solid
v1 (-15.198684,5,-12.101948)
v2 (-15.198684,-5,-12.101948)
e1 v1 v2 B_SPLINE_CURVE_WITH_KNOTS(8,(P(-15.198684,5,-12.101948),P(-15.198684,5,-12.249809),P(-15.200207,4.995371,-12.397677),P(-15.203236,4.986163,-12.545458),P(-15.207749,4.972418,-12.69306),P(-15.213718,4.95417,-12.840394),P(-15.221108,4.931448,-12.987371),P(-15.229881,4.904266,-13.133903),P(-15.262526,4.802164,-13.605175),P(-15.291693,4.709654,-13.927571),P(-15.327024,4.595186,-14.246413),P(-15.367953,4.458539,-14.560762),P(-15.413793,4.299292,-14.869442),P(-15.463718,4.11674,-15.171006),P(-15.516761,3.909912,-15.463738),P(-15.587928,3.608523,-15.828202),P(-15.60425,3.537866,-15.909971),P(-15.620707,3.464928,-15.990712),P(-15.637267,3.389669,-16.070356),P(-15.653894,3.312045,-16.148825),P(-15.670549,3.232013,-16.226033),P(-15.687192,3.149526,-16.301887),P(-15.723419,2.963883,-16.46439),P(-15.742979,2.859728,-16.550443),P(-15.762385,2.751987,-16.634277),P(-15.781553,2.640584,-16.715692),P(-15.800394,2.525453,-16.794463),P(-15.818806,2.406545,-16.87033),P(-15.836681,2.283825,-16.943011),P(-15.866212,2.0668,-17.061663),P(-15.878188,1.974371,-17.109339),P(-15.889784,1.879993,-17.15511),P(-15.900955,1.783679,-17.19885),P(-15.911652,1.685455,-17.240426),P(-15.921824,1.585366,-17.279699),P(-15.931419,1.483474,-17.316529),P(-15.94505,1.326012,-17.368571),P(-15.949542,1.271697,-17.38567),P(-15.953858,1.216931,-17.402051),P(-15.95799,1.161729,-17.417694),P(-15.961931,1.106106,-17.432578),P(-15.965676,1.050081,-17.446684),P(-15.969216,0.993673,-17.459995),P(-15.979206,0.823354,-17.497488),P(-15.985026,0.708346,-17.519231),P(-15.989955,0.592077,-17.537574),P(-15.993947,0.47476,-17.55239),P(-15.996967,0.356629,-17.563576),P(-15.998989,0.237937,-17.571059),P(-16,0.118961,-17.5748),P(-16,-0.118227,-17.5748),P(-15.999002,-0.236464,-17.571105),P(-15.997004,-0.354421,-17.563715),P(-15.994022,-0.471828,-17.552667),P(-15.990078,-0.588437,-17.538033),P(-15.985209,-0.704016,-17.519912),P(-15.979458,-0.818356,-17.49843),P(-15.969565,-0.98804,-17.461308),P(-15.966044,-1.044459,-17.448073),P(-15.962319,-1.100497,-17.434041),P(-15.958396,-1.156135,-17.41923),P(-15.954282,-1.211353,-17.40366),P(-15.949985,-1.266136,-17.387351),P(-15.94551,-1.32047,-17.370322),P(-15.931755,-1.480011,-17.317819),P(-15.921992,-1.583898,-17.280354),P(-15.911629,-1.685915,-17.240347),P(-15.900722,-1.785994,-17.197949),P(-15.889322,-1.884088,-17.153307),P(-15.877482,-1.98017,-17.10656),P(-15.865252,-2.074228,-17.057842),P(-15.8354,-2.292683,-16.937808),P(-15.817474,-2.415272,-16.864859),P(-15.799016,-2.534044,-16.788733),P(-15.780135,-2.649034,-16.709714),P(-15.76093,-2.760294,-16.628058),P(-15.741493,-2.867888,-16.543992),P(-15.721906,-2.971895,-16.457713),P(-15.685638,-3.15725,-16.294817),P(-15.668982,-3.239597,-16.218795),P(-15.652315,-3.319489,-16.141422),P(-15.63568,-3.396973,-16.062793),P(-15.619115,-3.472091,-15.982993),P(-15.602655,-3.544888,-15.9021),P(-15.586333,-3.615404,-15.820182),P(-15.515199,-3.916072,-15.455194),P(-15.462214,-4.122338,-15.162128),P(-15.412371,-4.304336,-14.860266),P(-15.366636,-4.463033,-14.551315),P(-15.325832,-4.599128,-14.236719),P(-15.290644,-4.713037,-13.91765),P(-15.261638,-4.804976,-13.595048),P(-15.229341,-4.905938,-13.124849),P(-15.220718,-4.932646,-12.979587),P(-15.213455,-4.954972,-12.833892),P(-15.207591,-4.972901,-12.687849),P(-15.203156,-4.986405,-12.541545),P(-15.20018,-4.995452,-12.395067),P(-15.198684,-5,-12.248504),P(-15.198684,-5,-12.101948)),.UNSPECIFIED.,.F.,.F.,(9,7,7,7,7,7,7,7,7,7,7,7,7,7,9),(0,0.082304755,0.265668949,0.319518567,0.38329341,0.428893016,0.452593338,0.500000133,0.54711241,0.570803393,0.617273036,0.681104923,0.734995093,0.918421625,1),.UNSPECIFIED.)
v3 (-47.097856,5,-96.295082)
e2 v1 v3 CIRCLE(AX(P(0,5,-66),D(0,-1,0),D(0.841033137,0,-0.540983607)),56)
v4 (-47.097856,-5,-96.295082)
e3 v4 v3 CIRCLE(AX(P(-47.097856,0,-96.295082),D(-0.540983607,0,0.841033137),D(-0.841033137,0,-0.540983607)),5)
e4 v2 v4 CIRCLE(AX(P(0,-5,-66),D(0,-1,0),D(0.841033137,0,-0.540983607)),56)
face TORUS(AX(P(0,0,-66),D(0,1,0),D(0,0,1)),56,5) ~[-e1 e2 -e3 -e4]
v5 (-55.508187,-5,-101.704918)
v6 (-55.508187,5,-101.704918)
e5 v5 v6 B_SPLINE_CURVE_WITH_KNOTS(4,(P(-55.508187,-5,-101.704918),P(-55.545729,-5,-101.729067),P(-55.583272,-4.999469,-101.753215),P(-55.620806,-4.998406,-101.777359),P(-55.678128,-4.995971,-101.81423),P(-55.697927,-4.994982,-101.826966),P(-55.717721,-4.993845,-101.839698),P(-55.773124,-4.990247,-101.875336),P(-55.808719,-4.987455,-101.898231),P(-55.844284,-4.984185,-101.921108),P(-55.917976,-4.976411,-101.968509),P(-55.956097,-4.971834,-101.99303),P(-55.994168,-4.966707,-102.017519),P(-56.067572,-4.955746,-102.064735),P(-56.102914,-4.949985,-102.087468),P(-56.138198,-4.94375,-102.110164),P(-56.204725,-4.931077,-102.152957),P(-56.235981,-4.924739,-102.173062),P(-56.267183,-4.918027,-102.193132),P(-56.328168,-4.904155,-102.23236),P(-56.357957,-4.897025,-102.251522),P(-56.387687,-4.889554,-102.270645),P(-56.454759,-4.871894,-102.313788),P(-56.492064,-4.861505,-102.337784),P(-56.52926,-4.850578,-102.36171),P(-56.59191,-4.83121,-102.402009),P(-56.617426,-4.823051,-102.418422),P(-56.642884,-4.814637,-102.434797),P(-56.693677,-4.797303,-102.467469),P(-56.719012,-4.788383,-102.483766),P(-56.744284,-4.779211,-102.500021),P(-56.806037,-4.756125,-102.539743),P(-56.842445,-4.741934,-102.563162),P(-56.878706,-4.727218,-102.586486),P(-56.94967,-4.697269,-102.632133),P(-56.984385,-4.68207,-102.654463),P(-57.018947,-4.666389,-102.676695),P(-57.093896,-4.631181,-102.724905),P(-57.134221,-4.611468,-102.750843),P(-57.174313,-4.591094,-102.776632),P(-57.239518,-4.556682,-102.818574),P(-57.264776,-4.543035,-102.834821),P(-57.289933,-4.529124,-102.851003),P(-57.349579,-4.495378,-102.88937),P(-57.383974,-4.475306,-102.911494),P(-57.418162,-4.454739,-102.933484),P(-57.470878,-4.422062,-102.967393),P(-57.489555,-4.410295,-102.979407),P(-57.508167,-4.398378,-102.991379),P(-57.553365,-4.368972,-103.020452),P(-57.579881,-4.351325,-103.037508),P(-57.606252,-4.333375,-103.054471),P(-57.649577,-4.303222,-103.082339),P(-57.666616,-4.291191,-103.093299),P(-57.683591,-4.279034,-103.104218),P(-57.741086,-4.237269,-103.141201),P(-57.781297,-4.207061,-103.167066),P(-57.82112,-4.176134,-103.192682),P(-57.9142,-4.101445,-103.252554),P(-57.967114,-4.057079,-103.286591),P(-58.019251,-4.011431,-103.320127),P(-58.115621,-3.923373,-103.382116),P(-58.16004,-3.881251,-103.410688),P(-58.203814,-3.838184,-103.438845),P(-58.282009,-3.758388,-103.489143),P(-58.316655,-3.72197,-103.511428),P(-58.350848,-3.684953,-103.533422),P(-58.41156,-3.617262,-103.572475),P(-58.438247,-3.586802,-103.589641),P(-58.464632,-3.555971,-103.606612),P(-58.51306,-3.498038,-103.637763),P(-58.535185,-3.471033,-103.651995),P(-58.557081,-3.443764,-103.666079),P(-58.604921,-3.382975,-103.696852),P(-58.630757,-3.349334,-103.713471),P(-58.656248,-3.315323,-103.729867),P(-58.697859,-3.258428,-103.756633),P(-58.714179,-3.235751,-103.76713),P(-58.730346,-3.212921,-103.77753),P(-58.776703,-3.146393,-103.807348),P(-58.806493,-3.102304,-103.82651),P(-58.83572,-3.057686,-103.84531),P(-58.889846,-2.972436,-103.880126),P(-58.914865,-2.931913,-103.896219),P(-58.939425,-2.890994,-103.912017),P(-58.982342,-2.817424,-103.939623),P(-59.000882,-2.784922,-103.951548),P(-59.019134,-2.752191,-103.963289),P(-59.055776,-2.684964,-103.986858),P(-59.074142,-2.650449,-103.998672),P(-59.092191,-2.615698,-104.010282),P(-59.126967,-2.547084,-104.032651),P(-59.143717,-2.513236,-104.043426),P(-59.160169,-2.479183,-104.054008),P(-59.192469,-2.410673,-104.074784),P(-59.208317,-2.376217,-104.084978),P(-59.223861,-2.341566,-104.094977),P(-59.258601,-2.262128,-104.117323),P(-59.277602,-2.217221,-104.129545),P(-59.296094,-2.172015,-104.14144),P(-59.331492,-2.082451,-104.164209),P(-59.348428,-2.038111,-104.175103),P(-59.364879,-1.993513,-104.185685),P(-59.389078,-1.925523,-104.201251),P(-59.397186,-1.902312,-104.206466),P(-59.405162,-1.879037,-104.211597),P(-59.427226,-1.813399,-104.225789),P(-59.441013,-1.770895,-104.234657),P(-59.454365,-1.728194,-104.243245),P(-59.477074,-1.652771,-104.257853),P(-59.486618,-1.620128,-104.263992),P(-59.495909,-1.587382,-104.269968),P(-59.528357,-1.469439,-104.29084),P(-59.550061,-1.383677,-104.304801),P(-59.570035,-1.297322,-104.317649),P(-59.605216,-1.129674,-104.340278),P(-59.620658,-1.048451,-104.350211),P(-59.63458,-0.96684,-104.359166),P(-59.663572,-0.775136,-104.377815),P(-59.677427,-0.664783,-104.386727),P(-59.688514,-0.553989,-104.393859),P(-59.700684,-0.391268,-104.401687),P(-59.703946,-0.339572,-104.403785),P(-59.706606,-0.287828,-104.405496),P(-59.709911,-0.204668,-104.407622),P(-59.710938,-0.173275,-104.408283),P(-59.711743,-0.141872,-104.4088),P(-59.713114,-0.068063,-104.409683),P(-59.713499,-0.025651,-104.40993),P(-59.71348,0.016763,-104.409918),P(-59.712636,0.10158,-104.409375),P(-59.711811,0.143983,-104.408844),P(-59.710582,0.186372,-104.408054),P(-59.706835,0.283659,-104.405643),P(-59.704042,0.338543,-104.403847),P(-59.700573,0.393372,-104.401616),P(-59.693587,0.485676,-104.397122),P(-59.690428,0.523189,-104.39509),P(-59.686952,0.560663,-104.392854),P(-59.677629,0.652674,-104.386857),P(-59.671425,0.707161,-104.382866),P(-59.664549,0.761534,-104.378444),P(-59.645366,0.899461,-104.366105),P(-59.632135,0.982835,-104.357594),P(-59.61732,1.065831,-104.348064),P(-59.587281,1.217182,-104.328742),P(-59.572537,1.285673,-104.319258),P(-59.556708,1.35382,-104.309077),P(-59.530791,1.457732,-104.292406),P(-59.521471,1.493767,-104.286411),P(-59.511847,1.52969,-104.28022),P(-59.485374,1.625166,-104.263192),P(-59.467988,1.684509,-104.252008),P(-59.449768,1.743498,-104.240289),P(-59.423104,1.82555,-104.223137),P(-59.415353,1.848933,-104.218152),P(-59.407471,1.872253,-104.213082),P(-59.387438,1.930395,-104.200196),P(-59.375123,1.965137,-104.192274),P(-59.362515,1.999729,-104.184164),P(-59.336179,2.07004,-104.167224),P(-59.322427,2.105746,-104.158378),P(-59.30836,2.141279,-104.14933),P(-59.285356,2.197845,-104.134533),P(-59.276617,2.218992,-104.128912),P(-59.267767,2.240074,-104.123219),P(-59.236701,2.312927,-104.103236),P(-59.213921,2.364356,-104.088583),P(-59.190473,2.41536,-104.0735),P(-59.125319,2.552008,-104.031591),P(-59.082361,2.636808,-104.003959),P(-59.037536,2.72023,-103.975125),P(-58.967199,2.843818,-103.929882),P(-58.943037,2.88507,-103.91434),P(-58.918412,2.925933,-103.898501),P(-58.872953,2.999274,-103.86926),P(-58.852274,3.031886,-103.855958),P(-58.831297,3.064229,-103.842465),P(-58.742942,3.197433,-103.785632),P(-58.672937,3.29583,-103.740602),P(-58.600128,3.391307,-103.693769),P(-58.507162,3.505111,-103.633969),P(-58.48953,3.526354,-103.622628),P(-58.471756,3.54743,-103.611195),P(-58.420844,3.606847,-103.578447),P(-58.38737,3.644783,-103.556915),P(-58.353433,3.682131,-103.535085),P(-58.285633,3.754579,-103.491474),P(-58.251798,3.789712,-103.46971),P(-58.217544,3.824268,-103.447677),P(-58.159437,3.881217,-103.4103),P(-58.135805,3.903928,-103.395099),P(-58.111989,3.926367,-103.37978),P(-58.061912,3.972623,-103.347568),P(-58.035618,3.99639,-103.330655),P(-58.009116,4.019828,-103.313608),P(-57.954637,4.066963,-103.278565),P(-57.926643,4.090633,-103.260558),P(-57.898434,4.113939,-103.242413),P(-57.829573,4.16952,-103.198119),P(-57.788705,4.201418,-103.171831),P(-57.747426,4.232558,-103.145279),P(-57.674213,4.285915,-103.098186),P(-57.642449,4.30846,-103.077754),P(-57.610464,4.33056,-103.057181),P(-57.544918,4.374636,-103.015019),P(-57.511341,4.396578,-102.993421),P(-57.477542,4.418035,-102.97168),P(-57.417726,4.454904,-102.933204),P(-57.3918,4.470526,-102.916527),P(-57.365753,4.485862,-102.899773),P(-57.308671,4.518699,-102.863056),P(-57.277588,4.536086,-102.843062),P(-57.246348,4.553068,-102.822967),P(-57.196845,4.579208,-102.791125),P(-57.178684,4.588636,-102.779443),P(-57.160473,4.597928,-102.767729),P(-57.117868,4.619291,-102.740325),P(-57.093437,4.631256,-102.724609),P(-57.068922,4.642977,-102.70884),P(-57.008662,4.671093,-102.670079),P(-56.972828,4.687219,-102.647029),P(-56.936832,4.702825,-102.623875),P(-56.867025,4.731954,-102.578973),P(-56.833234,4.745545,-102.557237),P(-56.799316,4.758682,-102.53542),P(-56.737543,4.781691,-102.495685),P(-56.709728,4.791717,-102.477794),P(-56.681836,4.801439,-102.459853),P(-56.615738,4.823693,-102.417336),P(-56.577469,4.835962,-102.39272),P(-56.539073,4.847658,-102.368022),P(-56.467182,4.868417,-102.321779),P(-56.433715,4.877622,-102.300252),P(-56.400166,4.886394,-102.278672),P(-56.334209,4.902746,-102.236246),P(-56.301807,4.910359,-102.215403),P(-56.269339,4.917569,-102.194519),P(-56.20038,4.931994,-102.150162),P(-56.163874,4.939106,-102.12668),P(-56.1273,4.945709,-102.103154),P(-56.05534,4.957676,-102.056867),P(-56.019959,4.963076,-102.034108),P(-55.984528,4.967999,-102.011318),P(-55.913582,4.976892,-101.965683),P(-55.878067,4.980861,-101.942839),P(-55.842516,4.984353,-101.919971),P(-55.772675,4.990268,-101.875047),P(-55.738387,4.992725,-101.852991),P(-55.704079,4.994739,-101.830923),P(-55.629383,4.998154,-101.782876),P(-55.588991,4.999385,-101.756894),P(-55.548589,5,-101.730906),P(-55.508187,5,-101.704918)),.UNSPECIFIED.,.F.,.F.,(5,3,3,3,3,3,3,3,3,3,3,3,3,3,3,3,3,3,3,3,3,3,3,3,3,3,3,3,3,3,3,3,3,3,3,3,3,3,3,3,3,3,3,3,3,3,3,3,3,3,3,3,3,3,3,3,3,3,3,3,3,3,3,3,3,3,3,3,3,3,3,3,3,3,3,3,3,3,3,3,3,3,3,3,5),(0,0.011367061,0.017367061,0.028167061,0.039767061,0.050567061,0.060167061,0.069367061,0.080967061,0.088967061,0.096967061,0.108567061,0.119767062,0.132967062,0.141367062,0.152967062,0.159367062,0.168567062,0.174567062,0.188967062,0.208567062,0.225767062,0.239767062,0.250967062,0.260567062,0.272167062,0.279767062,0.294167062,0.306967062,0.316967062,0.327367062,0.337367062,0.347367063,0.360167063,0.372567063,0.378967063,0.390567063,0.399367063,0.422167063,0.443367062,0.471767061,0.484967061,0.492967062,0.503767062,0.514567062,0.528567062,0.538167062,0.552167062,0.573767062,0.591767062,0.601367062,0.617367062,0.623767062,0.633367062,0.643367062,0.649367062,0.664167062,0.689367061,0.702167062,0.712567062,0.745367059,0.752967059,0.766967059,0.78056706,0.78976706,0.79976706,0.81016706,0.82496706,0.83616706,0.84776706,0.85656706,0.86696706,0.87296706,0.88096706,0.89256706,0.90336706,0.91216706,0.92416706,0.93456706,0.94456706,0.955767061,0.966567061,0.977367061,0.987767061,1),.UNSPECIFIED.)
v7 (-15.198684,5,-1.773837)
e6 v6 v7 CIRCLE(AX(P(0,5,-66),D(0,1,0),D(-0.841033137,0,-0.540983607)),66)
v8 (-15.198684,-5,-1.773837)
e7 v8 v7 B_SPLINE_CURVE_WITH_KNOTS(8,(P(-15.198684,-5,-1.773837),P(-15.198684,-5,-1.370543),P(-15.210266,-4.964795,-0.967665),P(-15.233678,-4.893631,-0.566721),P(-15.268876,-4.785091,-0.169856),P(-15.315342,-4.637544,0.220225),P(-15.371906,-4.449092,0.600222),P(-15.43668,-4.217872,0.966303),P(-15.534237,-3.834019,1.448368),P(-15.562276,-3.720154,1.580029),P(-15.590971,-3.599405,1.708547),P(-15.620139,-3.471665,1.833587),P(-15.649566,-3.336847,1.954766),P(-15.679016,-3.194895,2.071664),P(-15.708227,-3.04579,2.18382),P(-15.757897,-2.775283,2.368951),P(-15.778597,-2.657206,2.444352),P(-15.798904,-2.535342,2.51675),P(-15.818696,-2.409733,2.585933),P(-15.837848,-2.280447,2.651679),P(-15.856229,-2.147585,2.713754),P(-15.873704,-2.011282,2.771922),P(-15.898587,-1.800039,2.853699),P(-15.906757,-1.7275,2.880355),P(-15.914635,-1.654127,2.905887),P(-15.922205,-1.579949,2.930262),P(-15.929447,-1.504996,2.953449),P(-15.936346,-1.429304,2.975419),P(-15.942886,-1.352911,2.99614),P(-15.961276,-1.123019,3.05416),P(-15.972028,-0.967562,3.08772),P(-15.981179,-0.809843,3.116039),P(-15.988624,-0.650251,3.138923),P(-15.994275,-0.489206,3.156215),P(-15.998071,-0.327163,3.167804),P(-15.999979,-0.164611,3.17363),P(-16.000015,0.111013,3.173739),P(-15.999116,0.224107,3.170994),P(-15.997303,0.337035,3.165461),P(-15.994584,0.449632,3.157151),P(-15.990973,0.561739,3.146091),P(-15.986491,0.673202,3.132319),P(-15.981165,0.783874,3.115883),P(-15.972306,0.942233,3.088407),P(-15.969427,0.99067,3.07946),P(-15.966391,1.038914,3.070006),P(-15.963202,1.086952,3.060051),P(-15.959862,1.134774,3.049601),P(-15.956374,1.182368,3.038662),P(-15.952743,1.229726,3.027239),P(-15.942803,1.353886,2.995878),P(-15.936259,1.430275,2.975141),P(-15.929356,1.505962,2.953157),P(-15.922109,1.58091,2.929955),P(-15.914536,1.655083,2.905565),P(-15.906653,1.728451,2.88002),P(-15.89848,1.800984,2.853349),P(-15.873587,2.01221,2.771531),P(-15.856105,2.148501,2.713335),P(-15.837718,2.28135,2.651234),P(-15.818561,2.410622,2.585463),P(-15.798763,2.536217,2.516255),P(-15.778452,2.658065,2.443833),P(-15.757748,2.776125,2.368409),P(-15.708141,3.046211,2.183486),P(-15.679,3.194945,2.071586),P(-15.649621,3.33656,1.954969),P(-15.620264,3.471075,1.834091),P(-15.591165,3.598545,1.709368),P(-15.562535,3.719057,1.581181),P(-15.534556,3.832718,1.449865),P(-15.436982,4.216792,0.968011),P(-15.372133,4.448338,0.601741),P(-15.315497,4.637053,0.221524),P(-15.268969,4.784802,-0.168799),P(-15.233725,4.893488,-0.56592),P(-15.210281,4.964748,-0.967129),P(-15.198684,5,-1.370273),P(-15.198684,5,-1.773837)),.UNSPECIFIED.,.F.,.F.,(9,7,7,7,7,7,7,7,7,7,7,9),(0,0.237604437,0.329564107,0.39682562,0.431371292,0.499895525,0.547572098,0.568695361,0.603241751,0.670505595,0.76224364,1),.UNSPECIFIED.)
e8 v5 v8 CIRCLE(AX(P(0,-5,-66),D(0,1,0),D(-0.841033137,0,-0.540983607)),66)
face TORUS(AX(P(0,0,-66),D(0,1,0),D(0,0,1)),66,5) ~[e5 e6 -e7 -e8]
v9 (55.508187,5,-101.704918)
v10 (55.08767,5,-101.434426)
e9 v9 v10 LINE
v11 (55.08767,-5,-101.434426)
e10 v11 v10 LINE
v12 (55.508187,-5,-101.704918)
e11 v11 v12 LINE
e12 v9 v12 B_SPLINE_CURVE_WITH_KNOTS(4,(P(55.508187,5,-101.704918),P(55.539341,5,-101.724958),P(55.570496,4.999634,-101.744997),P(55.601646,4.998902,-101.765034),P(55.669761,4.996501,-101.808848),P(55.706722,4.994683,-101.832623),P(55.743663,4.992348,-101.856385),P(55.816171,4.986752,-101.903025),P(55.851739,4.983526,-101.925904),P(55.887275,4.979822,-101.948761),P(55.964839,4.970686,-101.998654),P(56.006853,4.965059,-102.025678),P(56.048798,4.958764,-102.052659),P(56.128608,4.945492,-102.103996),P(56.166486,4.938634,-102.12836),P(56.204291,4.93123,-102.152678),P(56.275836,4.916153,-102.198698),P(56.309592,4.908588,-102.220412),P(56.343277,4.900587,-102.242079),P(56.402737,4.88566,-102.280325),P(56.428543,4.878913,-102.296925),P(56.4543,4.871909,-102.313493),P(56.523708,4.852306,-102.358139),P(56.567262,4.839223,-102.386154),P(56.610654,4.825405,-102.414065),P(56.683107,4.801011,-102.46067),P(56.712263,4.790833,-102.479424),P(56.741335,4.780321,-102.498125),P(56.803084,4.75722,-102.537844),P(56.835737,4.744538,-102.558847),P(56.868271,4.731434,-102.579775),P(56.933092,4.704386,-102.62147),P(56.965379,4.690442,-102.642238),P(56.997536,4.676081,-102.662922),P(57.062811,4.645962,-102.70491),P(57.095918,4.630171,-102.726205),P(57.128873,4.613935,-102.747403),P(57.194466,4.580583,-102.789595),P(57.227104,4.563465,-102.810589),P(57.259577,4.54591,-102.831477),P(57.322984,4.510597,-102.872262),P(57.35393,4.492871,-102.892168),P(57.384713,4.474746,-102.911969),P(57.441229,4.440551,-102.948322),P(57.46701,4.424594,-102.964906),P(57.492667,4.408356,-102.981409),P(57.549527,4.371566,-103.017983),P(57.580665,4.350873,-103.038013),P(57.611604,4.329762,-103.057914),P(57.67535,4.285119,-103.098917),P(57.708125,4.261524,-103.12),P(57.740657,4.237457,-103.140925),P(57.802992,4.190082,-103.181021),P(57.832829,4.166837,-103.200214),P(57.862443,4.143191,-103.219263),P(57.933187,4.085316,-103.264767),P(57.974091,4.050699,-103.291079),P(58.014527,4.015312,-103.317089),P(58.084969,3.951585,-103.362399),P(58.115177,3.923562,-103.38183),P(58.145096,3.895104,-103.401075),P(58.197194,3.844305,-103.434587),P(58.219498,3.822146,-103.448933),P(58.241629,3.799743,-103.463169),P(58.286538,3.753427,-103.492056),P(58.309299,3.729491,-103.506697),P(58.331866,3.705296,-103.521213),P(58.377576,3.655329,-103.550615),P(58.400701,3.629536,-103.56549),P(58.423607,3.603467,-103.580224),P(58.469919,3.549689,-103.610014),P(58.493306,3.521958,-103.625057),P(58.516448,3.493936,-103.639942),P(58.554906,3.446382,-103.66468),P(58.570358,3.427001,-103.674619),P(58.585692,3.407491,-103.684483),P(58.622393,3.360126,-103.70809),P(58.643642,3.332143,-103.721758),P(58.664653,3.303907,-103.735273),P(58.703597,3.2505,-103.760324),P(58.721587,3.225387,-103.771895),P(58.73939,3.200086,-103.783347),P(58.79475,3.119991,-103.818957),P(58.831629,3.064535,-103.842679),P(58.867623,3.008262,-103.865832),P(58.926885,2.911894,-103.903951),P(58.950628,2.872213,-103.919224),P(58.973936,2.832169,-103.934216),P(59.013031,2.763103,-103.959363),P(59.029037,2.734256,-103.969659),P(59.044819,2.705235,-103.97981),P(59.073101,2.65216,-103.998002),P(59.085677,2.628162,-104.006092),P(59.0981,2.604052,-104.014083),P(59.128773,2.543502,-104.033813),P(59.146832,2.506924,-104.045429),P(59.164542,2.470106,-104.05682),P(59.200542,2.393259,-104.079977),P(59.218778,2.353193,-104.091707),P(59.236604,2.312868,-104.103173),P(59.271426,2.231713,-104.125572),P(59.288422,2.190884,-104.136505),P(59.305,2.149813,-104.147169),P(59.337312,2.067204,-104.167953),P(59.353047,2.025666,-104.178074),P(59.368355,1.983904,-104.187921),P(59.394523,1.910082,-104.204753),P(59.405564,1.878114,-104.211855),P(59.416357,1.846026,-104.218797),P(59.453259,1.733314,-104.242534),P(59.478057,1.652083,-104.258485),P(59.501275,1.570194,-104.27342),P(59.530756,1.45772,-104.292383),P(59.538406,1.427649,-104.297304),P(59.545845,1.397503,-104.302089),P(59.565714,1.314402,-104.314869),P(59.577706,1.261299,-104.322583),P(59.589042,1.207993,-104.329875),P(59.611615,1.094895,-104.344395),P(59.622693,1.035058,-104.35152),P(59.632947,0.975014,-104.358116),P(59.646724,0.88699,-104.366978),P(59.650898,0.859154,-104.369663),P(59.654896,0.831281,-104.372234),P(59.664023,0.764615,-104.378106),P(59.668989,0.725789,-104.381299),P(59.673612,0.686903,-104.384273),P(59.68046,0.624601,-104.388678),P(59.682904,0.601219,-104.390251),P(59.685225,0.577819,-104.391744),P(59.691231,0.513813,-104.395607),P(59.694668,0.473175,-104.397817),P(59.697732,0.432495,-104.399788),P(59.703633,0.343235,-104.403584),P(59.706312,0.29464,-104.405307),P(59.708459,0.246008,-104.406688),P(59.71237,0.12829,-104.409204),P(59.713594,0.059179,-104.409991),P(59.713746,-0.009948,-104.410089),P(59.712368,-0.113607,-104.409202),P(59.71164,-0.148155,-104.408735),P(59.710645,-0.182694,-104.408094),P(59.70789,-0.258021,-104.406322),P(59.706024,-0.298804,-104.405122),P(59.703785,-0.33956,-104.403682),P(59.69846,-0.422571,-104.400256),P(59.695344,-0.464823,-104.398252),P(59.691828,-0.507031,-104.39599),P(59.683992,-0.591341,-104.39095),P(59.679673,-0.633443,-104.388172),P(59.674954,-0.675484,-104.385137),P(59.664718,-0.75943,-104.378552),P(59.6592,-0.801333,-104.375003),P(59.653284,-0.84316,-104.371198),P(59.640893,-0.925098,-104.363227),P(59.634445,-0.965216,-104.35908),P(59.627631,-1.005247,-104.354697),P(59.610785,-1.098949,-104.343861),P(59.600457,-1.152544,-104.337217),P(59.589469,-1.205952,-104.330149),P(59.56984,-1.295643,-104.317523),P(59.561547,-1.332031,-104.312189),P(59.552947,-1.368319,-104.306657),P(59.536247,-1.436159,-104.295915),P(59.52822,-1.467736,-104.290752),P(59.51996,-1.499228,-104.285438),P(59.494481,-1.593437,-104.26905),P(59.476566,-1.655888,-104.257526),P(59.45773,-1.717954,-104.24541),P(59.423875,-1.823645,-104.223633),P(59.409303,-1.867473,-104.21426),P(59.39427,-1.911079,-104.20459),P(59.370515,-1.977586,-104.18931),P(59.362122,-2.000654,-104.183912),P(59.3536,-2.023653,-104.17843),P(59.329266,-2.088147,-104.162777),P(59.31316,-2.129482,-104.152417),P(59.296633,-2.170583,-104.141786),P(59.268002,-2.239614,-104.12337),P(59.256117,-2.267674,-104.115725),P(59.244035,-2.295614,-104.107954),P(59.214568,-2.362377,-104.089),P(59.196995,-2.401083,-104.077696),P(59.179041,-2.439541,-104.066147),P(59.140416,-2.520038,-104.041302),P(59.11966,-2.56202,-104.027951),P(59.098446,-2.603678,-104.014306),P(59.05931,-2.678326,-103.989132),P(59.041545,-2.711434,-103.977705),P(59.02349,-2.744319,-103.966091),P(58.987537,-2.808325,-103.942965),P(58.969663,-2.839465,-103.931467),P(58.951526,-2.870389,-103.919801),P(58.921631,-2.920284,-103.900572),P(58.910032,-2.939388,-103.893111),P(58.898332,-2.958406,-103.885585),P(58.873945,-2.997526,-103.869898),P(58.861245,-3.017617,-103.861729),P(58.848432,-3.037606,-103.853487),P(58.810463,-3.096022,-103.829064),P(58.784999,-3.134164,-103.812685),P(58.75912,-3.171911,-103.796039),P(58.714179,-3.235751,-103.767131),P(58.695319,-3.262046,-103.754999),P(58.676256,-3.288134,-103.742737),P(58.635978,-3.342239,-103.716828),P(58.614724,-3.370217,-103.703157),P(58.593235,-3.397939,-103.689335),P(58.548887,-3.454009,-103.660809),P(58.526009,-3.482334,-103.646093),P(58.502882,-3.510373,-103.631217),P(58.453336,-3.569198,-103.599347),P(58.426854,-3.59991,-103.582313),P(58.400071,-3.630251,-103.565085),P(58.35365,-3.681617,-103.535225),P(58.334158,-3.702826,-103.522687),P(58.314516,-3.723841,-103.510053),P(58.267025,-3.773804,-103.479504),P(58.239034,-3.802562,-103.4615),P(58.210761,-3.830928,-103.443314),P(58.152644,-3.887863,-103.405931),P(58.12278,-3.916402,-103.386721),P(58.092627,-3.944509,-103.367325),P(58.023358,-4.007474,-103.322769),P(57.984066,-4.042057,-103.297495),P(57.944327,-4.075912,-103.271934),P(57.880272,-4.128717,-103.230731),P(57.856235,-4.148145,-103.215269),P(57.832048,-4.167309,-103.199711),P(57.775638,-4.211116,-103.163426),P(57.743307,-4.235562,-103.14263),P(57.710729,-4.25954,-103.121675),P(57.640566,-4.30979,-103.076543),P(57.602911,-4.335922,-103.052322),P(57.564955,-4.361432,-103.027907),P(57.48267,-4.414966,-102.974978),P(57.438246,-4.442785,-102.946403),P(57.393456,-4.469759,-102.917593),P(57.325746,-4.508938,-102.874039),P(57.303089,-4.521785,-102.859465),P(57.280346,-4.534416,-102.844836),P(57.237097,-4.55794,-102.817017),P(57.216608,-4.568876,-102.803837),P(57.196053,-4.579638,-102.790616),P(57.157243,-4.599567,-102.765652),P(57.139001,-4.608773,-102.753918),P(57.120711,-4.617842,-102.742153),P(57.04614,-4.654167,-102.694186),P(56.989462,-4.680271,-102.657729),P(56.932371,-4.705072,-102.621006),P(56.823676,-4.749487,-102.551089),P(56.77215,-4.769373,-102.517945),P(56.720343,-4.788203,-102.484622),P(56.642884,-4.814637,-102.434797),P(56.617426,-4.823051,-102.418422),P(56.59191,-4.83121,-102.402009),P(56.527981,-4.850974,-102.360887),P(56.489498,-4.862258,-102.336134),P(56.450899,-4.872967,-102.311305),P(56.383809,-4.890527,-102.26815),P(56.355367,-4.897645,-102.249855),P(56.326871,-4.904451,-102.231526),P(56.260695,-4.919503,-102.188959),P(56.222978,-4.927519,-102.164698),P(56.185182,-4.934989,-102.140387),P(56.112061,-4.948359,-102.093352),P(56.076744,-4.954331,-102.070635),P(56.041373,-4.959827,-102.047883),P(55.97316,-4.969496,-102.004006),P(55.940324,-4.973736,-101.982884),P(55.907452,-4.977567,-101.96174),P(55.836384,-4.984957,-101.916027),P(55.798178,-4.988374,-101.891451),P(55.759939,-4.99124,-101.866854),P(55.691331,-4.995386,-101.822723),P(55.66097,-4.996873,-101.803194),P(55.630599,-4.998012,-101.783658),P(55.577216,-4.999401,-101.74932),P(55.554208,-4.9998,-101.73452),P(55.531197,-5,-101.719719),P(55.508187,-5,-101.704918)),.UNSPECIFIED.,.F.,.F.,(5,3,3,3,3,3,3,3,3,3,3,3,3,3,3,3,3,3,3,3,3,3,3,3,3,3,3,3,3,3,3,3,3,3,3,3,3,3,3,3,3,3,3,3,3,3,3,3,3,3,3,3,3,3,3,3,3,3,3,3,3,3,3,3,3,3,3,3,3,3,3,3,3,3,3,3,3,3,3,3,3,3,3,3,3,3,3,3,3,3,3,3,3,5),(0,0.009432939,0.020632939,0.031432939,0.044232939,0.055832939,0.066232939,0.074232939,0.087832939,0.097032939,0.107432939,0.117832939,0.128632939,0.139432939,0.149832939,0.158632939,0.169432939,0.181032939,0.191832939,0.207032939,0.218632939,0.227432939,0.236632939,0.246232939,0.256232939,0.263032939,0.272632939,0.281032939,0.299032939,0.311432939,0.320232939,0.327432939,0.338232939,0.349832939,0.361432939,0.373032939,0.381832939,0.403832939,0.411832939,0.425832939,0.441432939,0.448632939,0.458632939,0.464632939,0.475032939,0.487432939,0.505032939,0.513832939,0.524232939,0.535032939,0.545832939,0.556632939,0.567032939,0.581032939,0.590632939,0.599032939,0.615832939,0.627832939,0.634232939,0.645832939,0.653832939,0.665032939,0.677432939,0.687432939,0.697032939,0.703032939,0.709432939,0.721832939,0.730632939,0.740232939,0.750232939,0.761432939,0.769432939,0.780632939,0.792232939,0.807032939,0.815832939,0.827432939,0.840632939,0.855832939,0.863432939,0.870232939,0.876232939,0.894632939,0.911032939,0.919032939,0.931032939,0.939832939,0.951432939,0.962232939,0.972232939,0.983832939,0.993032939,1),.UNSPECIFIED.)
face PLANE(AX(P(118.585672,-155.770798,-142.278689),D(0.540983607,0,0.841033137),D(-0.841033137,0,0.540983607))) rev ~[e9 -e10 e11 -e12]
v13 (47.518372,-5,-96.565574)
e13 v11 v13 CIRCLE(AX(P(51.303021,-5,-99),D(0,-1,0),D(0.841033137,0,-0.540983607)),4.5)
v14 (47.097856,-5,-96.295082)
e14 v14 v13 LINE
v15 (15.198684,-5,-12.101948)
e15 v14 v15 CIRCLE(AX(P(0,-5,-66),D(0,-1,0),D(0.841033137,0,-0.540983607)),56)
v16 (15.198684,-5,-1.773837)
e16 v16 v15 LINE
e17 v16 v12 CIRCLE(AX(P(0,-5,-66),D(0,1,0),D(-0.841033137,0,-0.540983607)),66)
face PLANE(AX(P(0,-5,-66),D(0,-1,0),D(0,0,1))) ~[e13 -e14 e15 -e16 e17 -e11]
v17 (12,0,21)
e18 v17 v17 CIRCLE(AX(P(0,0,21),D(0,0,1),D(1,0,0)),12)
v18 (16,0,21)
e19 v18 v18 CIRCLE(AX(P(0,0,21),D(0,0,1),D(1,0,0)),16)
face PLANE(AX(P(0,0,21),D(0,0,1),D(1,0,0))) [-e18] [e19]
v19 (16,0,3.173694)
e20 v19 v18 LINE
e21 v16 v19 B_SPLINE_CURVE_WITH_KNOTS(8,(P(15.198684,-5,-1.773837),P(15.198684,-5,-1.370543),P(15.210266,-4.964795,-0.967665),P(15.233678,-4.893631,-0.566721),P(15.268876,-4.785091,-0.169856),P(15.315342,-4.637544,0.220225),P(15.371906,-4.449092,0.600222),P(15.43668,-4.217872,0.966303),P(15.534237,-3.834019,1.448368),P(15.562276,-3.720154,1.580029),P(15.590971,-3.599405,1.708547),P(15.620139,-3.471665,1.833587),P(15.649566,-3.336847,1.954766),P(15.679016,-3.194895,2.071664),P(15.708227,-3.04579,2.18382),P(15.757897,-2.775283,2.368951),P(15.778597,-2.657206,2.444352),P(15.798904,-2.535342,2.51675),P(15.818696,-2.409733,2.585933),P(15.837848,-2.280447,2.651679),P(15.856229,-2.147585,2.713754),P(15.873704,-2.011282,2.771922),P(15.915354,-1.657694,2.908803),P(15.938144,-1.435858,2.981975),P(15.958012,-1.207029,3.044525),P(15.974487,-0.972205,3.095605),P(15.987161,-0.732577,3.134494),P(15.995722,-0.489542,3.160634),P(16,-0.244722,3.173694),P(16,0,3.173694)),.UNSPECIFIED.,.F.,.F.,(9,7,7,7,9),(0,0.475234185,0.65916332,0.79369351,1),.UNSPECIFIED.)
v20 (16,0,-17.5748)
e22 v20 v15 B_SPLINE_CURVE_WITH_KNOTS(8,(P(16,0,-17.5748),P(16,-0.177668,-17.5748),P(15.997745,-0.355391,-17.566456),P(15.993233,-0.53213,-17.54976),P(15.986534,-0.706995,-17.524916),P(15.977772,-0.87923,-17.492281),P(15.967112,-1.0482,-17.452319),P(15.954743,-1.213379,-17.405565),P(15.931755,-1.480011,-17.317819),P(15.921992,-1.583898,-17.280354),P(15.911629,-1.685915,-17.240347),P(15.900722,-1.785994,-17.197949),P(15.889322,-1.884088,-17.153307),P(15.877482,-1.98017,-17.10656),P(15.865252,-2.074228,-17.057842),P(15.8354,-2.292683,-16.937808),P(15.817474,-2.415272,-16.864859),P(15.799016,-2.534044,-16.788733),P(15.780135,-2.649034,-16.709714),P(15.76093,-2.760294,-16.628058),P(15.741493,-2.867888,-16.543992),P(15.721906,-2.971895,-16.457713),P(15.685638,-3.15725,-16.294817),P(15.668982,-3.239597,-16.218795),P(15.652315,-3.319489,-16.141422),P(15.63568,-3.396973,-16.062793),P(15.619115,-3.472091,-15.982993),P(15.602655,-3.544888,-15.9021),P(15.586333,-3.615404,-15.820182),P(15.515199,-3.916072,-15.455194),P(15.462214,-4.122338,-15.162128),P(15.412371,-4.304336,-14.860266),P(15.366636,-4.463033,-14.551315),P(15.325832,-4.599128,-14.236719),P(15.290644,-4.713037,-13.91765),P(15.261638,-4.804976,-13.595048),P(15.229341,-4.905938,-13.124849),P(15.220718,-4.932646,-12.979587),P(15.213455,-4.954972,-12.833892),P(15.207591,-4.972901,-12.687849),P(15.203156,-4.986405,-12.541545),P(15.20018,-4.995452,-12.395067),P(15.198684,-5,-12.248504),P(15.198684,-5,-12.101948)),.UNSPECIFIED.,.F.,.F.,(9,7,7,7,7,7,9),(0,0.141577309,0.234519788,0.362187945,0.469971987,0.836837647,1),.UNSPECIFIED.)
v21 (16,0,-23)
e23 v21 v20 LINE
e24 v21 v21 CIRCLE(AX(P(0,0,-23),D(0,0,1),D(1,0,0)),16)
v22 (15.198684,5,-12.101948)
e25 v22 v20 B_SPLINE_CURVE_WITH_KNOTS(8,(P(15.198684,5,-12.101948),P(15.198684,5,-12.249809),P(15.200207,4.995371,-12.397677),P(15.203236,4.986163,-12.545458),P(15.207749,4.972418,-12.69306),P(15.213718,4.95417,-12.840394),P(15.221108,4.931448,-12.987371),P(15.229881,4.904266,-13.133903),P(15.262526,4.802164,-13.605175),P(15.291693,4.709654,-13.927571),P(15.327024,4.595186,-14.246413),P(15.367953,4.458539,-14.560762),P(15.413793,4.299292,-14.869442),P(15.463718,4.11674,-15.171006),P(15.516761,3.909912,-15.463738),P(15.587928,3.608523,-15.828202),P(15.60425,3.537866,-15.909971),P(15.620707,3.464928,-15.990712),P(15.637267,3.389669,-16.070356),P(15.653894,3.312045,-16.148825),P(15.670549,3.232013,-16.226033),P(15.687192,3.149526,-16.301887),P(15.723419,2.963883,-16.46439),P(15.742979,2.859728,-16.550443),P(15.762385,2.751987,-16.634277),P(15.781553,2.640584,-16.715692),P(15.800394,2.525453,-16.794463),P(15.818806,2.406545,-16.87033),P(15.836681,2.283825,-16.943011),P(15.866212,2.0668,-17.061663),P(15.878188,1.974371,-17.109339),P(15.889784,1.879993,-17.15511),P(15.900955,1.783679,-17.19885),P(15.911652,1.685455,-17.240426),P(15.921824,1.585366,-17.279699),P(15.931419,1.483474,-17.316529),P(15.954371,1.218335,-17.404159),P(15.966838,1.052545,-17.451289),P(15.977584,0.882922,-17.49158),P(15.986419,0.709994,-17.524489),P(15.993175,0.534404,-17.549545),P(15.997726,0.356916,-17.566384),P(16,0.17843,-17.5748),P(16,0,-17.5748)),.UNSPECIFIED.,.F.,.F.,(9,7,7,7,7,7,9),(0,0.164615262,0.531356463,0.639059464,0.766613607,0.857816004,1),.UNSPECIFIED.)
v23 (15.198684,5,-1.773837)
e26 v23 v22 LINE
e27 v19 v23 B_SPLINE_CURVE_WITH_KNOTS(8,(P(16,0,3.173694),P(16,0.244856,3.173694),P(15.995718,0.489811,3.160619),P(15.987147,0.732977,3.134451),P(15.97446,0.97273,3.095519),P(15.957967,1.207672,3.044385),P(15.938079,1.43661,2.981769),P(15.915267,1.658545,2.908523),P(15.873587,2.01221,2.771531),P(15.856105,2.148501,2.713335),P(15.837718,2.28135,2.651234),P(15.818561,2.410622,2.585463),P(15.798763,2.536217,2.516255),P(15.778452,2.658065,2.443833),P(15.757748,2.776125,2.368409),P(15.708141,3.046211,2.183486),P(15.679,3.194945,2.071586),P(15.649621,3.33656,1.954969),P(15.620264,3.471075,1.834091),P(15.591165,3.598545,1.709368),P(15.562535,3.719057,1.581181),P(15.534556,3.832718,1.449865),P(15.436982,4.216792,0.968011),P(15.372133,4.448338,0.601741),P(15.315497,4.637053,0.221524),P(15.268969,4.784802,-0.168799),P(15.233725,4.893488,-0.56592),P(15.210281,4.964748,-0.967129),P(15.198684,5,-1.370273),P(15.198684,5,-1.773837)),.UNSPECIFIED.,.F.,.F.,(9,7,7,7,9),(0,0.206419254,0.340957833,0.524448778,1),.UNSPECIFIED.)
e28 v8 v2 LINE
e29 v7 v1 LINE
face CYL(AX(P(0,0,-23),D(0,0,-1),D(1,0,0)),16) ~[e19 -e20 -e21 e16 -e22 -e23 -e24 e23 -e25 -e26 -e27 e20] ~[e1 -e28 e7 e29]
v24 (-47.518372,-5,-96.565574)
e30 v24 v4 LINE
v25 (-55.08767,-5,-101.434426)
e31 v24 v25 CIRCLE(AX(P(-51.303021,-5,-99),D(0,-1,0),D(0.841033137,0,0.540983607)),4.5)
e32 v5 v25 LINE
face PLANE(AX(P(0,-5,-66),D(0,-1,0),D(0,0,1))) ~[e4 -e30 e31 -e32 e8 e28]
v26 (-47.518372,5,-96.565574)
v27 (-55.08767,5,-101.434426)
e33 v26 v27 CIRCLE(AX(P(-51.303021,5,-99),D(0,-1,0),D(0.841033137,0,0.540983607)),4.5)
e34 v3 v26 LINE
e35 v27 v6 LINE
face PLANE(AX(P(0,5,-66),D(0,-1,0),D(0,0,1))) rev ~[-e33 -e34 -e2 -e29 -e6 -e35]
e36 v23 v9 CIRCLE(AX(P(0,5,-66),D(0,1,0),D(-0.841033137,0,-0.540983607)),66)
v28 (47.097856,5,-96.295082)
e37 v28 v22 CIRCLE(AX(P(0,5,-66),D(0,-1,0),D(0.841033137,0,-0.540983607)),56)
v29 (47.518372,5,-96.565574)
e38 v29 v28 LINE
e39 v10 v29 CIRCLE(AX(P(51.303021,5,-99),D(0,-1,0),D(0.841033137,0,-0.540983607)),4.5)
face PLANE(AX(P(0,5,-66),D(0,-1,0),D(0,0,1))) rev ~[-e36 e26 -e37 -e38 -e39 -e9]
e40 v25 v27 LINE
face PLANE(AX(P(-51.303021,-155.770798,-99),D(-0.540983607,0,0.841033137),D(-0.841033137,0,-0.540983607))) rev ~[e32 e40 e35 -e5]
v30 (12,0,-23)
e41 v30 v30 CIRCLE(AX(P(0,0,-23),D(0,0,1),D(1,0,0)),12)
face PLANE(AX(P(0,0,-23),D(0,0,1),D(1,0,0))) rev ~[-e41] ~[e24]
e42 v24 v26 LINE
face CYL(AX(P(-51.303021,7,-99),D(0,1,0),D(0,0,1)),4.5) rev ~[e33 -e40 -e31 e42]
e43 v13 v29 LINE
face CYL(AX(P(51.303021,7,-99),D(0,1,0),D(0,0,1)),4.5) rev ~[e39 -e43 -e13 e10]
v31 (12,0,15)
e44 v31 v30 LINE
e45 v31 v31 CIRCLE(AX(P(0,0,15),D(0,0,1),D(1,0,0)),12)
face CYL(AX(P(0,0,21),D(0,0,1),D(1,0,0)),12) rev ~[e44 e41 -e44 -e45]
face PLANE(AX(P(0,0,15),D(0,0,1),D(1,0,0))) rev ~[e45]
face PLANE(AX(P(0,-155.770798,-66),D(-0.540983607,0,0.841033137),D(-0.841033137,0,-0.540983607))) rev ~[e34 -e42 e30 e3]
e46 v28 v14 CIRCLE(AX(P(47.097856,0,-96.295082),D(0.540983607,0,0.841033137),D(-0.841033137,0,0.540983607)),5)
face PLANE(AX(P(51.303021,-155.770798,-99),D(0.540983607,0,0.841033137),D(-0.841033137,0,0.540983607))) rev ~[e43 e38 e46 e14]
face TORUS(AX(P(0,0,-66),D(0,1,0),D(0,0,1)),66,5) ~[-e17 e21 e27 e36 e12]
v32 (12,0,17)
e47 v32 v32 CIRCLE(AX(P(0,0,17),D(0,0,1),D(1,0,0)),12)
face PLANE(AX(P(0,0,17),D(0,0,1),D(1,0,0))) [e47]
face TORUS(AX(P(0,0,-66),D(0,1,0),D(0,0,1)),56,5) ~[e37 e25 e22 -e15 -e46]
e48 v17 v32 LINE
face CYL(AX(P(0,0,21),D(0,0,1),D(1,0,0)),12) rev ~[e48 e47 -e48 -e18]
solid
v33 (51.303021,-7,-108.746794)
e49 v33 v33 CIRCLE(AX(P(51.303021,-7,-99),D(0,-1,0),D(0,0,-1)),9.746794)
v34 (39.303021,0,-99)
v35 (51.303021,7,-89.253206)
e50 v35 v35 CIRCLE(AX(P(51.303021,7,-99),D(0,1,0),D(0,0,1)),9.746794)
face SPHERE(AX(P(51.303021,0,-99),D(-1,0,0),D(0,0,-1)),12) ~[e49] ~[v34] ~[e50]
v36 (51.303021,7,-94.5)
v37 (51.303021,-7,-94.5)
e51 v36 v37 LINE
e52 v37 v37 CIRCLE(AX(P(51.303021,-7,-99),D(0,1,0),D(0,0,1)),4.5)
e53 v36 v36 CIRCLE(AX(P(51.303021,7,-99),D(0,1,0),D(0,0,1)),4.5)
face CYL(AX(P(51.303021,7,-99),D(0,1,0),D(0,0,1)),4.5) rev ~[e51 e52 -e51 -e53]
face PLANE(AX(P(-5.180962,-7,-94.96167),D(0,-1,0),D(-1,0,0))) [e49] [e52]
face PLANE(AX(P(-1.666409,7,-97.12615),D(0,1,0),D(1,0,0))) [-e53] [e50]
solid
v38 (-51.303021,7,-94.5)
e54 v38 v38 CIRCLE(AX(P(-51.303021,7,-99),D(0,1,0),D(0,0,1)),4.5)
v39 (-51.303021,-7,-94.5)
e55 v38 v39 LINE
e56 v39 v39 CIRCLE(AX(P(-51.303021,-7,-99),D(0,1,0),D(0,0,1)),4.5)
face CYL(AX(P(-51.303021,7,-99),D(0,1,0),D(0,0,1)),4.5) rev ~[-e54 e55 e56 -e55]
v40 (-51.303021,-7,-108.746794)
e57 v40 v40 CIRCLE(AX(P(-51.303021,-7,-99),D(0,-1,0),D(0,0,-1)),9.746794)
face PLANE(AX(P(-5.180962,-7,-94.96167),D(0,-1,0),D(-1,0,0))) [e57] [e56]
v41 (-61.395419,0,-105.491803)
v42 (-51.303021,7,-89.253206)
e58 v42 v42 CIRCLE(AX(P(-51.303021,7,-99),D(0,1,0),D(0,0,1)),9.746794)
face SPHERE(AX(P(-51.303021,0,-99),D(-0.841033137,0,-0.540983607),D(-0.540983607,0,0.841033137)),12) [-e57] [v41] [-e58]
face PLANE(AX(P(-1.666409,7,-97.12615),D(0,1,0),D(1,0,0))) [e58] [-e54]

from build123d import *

# Parameters (mm, degrees)
SKETCH7_W                = 138.667181603
SKETCH7_H                = 62.252300273
CUT_EXTRUDE4_DEPTH       = 156.470254523
SKETCH8_W                = 150.818962898
SKETCH8_H                = 56.532407254
CUT_EXTRUDE5_DEPTH       = 156.470254523
SKETCH12_R               = 4.5
CUT_EXTRUDE6_DEPTH       = 156.470254523
CUT_EXTRUDE7_DEPTH       = 155.770798414
CUT_EXTRUDE7_DEPTH_BACK  = 155.770798414
BOSS_EXTRUDE2_DEPTH      = 21
BOSS_EXTRUDE2_DEPTH_BACK = 23
SKETCH14_R               = 16
SKETCH16_R               = 12
CUT_EXTRUDE8_DEPTH       = 151.734866628
SKETCH17_W               = 14
SKETCH17_H               = 2


with BuildPart() as part:
    # Sketch1 → Revolve1 (revolve)
    with BuildSketch(Plane(origin=(0, 0, 0), x_dir=(0, 0, -1), z_dir=(1, 0, 0))):
        with BuildLine():
            Line((0, 5), (10, 5))
            ThreePointArc((10, 5), (15, 0), (10, -5))
            Line((10, -5), (0, -5))
            ThreePointArc((0, -5), (-5, 0), (0, 5))
        make_face()
    revolve(axis=Axis((0, 16.0008336, -66), (0, -1, 0)))


with BuildPart() as body_2:
    # Sketch2 → Revolve2 (revolve)
    with BuildSketch(Plane(origin=(0, 0, 0), x_dir=(1, 0, 0), z_dir=(0, 1, 0))):
        with BuildLine():
            Line((-61.395418997, 105.491803279), (-41.21062371, 92.508196721))
            ThreePointArc((-41.21062371, 92.508196721), (-57.794824632, 88.907602357), (-61.395418997, 105.491803279))
        make_face()
    revolve(axis=Axis((-51.303021354, 0, -99), (-0.841033136942994, 0, -0.5409836065573772)))


with BuildPart() as body_3:
    # Sketch9 → Revolve4 (revolve)
    with BuildSketch(Plane(origin=(0, 0, 0), x_dir=(1, 0, 0), z_dir=(0, 1, 0))):
        with BuildLine():
            Line((39.303021354, 99), (63.303021354, 99))
            ThreePointArc((63.303021354, 99), (51.303021354, 111), (39.303021354, 99))
        make_face()
    revolve(axis=Axis((39.303021354, 0, -99), (1, 0, 0)))


with BuildPart() as cut_extrude4_tool:
    # Sketch7 → Cut-Extrude4 (new, through all)
    with BuildSketch(Plane(origin=(0, 7, 0), x_dir=(1, 0, 0), z_dir=(0, 1, 0))):
        with Locations((-1.666409198, 97.126150137)):
            Rectangle(SKETCH7_W, SKETCH7_H)
    extrude(amount=CUT_EXTRUDE4_DEPTH)


with BuildPart() as body_2_1:
    add(body_2.part)

    # Cut-Extrude4: cut by cut_extrude4_tool
    add(cut_extrude4_tool.part, mode=Mode.SUBTRACT)


with BuildPart() as body_3_1:
    add(body_3.part)

    # Cut-Extrude4: cut by cut_extrude4_tool
    add(cut_extrude4_tool.part, mode=Mode.SUBTRACT)


with BuildPart() as cut_extrude5_tool:
    # Sketch8 → Cut-Extrude5 (new, through all)
    with BuildSketch(Plane(origin=(0, -7, 0), x_dir=(-1, 0, 0), z_dir=(0, -1, 0))):
        with Locations((5.180962211, 94.961669782)):
            Rectangle(SKETCH8_W, SKETCH8_H)
    extrude(amount=CUT_EXTRUDE5_DEPTH)


with BuildPart() as body_2_2:
    add(body_2_1.part)

    # Cut-Extrude5: cut by cut_extrude5_tool
    add(cut_extrude5_tool.part, mode=Mode.SUBTRACT)


with BuildPart() as body_3_2:
    add(body_3_1.part)

    # Cut-Extrude5: cut by cut_extrude5_tool
    add(cut_extrude5_tool.part, mode=Mode.SUBTRACT)


with BuildPart() as cut_extrude6_tool:
    # Sketch12 → Cut-Extrude6 (new, through all)
    with BuildSketch(Plane(origin=(0, 7, 0), x_dir=(1, 0, 0), z_dir=(0, 1, 0))):
        with Locations(Location((-51.303021354, 99, 0), (0, 0, 270))):
            Circle(SKETCH12_R)
        with Locations(Location((51.303021354, 99, 0), (0, 0, 270))):
            Circle(SKETCH12_R)
    extrude(amount=-CUT_EXTRUDE6_DEPTH)


with BuildPart() as part_1:
    add(part.part)

    # Cut-Extrude6: cut by cut_extrude6_tool
    add(cut_extrude6_tool.part, mode=Mode.SUBTRACT)

    # Sketch13 → Cut-Extrude7 (cut, two sides: drawn at the far end of the back side and taken through both)
    with BuildSketch(Plane(origin=(0, 0, 0), x_dir=(1, 0, 0), z_dir=(0, 1, 0)).offset(-CUT_EXTRUDE7_DEPTH_BACK)):
        Polygon((0, 66), (-51.303021354, 99), (-118.585672309, 142.278688525), (118.585672309, 142.278688525), (51.303021354, 99), align=None)
    extrude(amount=CUT_EXTRUDE7_DEPTH + CUT_EXTRUDE7_DEPTH_BACK, mode=Mode.SUBTRACT)

    # Sketch14 → Boss-Extrude2 (add, two sides: drawn at the far end of the back side and taken through both)
    with BuildSketch(Plane.XY.offset(-BOSS_EXTRUDE2_DEPTH_BACK)):
        Circle(SKETCH14_R)
    extrude(amount=BOSS_EXTRUDE2_DEPTH + BOSS_EXTRUDE2_DEPTH_BACK)

    # Sketch16 → Cut-Extrude8 (cut, through all)
    with BuildSketch(Plane.XY.offset(21)):
        Circle(SKETCH16_R)
    extrude(amount=-CUT_EXTRUDE8_DEPTH, mode=Mode.SUBTRACT)

    # Sketch17 → Revolve5 (revolve)
    with BuildSketch(Plane(origin=(0, 0, 0), x_dir=(1, 0, 0), z_dir=(0, 1, 0)), mode=Mode.PRIVATE) as revolve5_sk:
        with Locations((-7, -16)):
            Rectangle(SKETCH17_W, SKETCH17_H)
    revolve(revolve5_sk.sketch.rotate(Axis((0, 0, 0), (0, 0, 1)), 180), axis=Axis((0, 0, 0), (0, 0, 1)))


with BuildPart() as body_2_3:
    add(body_2_2.part)

    # Cut-Extrude6: cut by cut_extrude6_tool
    add(cut_extrude6_tool.part, mode=Mode.SUBTRACT)


with BuildPart() as body_3_3:
    add(body_3_2.part)

    # Cut-Extrude6: cut by cut_extrude6_tool
    add(cut_extrude6_tool.part, mode=Mode.SUBTRACT)


solid = Compound([part_1.part, body_2_3.part, body_3_3.part])
